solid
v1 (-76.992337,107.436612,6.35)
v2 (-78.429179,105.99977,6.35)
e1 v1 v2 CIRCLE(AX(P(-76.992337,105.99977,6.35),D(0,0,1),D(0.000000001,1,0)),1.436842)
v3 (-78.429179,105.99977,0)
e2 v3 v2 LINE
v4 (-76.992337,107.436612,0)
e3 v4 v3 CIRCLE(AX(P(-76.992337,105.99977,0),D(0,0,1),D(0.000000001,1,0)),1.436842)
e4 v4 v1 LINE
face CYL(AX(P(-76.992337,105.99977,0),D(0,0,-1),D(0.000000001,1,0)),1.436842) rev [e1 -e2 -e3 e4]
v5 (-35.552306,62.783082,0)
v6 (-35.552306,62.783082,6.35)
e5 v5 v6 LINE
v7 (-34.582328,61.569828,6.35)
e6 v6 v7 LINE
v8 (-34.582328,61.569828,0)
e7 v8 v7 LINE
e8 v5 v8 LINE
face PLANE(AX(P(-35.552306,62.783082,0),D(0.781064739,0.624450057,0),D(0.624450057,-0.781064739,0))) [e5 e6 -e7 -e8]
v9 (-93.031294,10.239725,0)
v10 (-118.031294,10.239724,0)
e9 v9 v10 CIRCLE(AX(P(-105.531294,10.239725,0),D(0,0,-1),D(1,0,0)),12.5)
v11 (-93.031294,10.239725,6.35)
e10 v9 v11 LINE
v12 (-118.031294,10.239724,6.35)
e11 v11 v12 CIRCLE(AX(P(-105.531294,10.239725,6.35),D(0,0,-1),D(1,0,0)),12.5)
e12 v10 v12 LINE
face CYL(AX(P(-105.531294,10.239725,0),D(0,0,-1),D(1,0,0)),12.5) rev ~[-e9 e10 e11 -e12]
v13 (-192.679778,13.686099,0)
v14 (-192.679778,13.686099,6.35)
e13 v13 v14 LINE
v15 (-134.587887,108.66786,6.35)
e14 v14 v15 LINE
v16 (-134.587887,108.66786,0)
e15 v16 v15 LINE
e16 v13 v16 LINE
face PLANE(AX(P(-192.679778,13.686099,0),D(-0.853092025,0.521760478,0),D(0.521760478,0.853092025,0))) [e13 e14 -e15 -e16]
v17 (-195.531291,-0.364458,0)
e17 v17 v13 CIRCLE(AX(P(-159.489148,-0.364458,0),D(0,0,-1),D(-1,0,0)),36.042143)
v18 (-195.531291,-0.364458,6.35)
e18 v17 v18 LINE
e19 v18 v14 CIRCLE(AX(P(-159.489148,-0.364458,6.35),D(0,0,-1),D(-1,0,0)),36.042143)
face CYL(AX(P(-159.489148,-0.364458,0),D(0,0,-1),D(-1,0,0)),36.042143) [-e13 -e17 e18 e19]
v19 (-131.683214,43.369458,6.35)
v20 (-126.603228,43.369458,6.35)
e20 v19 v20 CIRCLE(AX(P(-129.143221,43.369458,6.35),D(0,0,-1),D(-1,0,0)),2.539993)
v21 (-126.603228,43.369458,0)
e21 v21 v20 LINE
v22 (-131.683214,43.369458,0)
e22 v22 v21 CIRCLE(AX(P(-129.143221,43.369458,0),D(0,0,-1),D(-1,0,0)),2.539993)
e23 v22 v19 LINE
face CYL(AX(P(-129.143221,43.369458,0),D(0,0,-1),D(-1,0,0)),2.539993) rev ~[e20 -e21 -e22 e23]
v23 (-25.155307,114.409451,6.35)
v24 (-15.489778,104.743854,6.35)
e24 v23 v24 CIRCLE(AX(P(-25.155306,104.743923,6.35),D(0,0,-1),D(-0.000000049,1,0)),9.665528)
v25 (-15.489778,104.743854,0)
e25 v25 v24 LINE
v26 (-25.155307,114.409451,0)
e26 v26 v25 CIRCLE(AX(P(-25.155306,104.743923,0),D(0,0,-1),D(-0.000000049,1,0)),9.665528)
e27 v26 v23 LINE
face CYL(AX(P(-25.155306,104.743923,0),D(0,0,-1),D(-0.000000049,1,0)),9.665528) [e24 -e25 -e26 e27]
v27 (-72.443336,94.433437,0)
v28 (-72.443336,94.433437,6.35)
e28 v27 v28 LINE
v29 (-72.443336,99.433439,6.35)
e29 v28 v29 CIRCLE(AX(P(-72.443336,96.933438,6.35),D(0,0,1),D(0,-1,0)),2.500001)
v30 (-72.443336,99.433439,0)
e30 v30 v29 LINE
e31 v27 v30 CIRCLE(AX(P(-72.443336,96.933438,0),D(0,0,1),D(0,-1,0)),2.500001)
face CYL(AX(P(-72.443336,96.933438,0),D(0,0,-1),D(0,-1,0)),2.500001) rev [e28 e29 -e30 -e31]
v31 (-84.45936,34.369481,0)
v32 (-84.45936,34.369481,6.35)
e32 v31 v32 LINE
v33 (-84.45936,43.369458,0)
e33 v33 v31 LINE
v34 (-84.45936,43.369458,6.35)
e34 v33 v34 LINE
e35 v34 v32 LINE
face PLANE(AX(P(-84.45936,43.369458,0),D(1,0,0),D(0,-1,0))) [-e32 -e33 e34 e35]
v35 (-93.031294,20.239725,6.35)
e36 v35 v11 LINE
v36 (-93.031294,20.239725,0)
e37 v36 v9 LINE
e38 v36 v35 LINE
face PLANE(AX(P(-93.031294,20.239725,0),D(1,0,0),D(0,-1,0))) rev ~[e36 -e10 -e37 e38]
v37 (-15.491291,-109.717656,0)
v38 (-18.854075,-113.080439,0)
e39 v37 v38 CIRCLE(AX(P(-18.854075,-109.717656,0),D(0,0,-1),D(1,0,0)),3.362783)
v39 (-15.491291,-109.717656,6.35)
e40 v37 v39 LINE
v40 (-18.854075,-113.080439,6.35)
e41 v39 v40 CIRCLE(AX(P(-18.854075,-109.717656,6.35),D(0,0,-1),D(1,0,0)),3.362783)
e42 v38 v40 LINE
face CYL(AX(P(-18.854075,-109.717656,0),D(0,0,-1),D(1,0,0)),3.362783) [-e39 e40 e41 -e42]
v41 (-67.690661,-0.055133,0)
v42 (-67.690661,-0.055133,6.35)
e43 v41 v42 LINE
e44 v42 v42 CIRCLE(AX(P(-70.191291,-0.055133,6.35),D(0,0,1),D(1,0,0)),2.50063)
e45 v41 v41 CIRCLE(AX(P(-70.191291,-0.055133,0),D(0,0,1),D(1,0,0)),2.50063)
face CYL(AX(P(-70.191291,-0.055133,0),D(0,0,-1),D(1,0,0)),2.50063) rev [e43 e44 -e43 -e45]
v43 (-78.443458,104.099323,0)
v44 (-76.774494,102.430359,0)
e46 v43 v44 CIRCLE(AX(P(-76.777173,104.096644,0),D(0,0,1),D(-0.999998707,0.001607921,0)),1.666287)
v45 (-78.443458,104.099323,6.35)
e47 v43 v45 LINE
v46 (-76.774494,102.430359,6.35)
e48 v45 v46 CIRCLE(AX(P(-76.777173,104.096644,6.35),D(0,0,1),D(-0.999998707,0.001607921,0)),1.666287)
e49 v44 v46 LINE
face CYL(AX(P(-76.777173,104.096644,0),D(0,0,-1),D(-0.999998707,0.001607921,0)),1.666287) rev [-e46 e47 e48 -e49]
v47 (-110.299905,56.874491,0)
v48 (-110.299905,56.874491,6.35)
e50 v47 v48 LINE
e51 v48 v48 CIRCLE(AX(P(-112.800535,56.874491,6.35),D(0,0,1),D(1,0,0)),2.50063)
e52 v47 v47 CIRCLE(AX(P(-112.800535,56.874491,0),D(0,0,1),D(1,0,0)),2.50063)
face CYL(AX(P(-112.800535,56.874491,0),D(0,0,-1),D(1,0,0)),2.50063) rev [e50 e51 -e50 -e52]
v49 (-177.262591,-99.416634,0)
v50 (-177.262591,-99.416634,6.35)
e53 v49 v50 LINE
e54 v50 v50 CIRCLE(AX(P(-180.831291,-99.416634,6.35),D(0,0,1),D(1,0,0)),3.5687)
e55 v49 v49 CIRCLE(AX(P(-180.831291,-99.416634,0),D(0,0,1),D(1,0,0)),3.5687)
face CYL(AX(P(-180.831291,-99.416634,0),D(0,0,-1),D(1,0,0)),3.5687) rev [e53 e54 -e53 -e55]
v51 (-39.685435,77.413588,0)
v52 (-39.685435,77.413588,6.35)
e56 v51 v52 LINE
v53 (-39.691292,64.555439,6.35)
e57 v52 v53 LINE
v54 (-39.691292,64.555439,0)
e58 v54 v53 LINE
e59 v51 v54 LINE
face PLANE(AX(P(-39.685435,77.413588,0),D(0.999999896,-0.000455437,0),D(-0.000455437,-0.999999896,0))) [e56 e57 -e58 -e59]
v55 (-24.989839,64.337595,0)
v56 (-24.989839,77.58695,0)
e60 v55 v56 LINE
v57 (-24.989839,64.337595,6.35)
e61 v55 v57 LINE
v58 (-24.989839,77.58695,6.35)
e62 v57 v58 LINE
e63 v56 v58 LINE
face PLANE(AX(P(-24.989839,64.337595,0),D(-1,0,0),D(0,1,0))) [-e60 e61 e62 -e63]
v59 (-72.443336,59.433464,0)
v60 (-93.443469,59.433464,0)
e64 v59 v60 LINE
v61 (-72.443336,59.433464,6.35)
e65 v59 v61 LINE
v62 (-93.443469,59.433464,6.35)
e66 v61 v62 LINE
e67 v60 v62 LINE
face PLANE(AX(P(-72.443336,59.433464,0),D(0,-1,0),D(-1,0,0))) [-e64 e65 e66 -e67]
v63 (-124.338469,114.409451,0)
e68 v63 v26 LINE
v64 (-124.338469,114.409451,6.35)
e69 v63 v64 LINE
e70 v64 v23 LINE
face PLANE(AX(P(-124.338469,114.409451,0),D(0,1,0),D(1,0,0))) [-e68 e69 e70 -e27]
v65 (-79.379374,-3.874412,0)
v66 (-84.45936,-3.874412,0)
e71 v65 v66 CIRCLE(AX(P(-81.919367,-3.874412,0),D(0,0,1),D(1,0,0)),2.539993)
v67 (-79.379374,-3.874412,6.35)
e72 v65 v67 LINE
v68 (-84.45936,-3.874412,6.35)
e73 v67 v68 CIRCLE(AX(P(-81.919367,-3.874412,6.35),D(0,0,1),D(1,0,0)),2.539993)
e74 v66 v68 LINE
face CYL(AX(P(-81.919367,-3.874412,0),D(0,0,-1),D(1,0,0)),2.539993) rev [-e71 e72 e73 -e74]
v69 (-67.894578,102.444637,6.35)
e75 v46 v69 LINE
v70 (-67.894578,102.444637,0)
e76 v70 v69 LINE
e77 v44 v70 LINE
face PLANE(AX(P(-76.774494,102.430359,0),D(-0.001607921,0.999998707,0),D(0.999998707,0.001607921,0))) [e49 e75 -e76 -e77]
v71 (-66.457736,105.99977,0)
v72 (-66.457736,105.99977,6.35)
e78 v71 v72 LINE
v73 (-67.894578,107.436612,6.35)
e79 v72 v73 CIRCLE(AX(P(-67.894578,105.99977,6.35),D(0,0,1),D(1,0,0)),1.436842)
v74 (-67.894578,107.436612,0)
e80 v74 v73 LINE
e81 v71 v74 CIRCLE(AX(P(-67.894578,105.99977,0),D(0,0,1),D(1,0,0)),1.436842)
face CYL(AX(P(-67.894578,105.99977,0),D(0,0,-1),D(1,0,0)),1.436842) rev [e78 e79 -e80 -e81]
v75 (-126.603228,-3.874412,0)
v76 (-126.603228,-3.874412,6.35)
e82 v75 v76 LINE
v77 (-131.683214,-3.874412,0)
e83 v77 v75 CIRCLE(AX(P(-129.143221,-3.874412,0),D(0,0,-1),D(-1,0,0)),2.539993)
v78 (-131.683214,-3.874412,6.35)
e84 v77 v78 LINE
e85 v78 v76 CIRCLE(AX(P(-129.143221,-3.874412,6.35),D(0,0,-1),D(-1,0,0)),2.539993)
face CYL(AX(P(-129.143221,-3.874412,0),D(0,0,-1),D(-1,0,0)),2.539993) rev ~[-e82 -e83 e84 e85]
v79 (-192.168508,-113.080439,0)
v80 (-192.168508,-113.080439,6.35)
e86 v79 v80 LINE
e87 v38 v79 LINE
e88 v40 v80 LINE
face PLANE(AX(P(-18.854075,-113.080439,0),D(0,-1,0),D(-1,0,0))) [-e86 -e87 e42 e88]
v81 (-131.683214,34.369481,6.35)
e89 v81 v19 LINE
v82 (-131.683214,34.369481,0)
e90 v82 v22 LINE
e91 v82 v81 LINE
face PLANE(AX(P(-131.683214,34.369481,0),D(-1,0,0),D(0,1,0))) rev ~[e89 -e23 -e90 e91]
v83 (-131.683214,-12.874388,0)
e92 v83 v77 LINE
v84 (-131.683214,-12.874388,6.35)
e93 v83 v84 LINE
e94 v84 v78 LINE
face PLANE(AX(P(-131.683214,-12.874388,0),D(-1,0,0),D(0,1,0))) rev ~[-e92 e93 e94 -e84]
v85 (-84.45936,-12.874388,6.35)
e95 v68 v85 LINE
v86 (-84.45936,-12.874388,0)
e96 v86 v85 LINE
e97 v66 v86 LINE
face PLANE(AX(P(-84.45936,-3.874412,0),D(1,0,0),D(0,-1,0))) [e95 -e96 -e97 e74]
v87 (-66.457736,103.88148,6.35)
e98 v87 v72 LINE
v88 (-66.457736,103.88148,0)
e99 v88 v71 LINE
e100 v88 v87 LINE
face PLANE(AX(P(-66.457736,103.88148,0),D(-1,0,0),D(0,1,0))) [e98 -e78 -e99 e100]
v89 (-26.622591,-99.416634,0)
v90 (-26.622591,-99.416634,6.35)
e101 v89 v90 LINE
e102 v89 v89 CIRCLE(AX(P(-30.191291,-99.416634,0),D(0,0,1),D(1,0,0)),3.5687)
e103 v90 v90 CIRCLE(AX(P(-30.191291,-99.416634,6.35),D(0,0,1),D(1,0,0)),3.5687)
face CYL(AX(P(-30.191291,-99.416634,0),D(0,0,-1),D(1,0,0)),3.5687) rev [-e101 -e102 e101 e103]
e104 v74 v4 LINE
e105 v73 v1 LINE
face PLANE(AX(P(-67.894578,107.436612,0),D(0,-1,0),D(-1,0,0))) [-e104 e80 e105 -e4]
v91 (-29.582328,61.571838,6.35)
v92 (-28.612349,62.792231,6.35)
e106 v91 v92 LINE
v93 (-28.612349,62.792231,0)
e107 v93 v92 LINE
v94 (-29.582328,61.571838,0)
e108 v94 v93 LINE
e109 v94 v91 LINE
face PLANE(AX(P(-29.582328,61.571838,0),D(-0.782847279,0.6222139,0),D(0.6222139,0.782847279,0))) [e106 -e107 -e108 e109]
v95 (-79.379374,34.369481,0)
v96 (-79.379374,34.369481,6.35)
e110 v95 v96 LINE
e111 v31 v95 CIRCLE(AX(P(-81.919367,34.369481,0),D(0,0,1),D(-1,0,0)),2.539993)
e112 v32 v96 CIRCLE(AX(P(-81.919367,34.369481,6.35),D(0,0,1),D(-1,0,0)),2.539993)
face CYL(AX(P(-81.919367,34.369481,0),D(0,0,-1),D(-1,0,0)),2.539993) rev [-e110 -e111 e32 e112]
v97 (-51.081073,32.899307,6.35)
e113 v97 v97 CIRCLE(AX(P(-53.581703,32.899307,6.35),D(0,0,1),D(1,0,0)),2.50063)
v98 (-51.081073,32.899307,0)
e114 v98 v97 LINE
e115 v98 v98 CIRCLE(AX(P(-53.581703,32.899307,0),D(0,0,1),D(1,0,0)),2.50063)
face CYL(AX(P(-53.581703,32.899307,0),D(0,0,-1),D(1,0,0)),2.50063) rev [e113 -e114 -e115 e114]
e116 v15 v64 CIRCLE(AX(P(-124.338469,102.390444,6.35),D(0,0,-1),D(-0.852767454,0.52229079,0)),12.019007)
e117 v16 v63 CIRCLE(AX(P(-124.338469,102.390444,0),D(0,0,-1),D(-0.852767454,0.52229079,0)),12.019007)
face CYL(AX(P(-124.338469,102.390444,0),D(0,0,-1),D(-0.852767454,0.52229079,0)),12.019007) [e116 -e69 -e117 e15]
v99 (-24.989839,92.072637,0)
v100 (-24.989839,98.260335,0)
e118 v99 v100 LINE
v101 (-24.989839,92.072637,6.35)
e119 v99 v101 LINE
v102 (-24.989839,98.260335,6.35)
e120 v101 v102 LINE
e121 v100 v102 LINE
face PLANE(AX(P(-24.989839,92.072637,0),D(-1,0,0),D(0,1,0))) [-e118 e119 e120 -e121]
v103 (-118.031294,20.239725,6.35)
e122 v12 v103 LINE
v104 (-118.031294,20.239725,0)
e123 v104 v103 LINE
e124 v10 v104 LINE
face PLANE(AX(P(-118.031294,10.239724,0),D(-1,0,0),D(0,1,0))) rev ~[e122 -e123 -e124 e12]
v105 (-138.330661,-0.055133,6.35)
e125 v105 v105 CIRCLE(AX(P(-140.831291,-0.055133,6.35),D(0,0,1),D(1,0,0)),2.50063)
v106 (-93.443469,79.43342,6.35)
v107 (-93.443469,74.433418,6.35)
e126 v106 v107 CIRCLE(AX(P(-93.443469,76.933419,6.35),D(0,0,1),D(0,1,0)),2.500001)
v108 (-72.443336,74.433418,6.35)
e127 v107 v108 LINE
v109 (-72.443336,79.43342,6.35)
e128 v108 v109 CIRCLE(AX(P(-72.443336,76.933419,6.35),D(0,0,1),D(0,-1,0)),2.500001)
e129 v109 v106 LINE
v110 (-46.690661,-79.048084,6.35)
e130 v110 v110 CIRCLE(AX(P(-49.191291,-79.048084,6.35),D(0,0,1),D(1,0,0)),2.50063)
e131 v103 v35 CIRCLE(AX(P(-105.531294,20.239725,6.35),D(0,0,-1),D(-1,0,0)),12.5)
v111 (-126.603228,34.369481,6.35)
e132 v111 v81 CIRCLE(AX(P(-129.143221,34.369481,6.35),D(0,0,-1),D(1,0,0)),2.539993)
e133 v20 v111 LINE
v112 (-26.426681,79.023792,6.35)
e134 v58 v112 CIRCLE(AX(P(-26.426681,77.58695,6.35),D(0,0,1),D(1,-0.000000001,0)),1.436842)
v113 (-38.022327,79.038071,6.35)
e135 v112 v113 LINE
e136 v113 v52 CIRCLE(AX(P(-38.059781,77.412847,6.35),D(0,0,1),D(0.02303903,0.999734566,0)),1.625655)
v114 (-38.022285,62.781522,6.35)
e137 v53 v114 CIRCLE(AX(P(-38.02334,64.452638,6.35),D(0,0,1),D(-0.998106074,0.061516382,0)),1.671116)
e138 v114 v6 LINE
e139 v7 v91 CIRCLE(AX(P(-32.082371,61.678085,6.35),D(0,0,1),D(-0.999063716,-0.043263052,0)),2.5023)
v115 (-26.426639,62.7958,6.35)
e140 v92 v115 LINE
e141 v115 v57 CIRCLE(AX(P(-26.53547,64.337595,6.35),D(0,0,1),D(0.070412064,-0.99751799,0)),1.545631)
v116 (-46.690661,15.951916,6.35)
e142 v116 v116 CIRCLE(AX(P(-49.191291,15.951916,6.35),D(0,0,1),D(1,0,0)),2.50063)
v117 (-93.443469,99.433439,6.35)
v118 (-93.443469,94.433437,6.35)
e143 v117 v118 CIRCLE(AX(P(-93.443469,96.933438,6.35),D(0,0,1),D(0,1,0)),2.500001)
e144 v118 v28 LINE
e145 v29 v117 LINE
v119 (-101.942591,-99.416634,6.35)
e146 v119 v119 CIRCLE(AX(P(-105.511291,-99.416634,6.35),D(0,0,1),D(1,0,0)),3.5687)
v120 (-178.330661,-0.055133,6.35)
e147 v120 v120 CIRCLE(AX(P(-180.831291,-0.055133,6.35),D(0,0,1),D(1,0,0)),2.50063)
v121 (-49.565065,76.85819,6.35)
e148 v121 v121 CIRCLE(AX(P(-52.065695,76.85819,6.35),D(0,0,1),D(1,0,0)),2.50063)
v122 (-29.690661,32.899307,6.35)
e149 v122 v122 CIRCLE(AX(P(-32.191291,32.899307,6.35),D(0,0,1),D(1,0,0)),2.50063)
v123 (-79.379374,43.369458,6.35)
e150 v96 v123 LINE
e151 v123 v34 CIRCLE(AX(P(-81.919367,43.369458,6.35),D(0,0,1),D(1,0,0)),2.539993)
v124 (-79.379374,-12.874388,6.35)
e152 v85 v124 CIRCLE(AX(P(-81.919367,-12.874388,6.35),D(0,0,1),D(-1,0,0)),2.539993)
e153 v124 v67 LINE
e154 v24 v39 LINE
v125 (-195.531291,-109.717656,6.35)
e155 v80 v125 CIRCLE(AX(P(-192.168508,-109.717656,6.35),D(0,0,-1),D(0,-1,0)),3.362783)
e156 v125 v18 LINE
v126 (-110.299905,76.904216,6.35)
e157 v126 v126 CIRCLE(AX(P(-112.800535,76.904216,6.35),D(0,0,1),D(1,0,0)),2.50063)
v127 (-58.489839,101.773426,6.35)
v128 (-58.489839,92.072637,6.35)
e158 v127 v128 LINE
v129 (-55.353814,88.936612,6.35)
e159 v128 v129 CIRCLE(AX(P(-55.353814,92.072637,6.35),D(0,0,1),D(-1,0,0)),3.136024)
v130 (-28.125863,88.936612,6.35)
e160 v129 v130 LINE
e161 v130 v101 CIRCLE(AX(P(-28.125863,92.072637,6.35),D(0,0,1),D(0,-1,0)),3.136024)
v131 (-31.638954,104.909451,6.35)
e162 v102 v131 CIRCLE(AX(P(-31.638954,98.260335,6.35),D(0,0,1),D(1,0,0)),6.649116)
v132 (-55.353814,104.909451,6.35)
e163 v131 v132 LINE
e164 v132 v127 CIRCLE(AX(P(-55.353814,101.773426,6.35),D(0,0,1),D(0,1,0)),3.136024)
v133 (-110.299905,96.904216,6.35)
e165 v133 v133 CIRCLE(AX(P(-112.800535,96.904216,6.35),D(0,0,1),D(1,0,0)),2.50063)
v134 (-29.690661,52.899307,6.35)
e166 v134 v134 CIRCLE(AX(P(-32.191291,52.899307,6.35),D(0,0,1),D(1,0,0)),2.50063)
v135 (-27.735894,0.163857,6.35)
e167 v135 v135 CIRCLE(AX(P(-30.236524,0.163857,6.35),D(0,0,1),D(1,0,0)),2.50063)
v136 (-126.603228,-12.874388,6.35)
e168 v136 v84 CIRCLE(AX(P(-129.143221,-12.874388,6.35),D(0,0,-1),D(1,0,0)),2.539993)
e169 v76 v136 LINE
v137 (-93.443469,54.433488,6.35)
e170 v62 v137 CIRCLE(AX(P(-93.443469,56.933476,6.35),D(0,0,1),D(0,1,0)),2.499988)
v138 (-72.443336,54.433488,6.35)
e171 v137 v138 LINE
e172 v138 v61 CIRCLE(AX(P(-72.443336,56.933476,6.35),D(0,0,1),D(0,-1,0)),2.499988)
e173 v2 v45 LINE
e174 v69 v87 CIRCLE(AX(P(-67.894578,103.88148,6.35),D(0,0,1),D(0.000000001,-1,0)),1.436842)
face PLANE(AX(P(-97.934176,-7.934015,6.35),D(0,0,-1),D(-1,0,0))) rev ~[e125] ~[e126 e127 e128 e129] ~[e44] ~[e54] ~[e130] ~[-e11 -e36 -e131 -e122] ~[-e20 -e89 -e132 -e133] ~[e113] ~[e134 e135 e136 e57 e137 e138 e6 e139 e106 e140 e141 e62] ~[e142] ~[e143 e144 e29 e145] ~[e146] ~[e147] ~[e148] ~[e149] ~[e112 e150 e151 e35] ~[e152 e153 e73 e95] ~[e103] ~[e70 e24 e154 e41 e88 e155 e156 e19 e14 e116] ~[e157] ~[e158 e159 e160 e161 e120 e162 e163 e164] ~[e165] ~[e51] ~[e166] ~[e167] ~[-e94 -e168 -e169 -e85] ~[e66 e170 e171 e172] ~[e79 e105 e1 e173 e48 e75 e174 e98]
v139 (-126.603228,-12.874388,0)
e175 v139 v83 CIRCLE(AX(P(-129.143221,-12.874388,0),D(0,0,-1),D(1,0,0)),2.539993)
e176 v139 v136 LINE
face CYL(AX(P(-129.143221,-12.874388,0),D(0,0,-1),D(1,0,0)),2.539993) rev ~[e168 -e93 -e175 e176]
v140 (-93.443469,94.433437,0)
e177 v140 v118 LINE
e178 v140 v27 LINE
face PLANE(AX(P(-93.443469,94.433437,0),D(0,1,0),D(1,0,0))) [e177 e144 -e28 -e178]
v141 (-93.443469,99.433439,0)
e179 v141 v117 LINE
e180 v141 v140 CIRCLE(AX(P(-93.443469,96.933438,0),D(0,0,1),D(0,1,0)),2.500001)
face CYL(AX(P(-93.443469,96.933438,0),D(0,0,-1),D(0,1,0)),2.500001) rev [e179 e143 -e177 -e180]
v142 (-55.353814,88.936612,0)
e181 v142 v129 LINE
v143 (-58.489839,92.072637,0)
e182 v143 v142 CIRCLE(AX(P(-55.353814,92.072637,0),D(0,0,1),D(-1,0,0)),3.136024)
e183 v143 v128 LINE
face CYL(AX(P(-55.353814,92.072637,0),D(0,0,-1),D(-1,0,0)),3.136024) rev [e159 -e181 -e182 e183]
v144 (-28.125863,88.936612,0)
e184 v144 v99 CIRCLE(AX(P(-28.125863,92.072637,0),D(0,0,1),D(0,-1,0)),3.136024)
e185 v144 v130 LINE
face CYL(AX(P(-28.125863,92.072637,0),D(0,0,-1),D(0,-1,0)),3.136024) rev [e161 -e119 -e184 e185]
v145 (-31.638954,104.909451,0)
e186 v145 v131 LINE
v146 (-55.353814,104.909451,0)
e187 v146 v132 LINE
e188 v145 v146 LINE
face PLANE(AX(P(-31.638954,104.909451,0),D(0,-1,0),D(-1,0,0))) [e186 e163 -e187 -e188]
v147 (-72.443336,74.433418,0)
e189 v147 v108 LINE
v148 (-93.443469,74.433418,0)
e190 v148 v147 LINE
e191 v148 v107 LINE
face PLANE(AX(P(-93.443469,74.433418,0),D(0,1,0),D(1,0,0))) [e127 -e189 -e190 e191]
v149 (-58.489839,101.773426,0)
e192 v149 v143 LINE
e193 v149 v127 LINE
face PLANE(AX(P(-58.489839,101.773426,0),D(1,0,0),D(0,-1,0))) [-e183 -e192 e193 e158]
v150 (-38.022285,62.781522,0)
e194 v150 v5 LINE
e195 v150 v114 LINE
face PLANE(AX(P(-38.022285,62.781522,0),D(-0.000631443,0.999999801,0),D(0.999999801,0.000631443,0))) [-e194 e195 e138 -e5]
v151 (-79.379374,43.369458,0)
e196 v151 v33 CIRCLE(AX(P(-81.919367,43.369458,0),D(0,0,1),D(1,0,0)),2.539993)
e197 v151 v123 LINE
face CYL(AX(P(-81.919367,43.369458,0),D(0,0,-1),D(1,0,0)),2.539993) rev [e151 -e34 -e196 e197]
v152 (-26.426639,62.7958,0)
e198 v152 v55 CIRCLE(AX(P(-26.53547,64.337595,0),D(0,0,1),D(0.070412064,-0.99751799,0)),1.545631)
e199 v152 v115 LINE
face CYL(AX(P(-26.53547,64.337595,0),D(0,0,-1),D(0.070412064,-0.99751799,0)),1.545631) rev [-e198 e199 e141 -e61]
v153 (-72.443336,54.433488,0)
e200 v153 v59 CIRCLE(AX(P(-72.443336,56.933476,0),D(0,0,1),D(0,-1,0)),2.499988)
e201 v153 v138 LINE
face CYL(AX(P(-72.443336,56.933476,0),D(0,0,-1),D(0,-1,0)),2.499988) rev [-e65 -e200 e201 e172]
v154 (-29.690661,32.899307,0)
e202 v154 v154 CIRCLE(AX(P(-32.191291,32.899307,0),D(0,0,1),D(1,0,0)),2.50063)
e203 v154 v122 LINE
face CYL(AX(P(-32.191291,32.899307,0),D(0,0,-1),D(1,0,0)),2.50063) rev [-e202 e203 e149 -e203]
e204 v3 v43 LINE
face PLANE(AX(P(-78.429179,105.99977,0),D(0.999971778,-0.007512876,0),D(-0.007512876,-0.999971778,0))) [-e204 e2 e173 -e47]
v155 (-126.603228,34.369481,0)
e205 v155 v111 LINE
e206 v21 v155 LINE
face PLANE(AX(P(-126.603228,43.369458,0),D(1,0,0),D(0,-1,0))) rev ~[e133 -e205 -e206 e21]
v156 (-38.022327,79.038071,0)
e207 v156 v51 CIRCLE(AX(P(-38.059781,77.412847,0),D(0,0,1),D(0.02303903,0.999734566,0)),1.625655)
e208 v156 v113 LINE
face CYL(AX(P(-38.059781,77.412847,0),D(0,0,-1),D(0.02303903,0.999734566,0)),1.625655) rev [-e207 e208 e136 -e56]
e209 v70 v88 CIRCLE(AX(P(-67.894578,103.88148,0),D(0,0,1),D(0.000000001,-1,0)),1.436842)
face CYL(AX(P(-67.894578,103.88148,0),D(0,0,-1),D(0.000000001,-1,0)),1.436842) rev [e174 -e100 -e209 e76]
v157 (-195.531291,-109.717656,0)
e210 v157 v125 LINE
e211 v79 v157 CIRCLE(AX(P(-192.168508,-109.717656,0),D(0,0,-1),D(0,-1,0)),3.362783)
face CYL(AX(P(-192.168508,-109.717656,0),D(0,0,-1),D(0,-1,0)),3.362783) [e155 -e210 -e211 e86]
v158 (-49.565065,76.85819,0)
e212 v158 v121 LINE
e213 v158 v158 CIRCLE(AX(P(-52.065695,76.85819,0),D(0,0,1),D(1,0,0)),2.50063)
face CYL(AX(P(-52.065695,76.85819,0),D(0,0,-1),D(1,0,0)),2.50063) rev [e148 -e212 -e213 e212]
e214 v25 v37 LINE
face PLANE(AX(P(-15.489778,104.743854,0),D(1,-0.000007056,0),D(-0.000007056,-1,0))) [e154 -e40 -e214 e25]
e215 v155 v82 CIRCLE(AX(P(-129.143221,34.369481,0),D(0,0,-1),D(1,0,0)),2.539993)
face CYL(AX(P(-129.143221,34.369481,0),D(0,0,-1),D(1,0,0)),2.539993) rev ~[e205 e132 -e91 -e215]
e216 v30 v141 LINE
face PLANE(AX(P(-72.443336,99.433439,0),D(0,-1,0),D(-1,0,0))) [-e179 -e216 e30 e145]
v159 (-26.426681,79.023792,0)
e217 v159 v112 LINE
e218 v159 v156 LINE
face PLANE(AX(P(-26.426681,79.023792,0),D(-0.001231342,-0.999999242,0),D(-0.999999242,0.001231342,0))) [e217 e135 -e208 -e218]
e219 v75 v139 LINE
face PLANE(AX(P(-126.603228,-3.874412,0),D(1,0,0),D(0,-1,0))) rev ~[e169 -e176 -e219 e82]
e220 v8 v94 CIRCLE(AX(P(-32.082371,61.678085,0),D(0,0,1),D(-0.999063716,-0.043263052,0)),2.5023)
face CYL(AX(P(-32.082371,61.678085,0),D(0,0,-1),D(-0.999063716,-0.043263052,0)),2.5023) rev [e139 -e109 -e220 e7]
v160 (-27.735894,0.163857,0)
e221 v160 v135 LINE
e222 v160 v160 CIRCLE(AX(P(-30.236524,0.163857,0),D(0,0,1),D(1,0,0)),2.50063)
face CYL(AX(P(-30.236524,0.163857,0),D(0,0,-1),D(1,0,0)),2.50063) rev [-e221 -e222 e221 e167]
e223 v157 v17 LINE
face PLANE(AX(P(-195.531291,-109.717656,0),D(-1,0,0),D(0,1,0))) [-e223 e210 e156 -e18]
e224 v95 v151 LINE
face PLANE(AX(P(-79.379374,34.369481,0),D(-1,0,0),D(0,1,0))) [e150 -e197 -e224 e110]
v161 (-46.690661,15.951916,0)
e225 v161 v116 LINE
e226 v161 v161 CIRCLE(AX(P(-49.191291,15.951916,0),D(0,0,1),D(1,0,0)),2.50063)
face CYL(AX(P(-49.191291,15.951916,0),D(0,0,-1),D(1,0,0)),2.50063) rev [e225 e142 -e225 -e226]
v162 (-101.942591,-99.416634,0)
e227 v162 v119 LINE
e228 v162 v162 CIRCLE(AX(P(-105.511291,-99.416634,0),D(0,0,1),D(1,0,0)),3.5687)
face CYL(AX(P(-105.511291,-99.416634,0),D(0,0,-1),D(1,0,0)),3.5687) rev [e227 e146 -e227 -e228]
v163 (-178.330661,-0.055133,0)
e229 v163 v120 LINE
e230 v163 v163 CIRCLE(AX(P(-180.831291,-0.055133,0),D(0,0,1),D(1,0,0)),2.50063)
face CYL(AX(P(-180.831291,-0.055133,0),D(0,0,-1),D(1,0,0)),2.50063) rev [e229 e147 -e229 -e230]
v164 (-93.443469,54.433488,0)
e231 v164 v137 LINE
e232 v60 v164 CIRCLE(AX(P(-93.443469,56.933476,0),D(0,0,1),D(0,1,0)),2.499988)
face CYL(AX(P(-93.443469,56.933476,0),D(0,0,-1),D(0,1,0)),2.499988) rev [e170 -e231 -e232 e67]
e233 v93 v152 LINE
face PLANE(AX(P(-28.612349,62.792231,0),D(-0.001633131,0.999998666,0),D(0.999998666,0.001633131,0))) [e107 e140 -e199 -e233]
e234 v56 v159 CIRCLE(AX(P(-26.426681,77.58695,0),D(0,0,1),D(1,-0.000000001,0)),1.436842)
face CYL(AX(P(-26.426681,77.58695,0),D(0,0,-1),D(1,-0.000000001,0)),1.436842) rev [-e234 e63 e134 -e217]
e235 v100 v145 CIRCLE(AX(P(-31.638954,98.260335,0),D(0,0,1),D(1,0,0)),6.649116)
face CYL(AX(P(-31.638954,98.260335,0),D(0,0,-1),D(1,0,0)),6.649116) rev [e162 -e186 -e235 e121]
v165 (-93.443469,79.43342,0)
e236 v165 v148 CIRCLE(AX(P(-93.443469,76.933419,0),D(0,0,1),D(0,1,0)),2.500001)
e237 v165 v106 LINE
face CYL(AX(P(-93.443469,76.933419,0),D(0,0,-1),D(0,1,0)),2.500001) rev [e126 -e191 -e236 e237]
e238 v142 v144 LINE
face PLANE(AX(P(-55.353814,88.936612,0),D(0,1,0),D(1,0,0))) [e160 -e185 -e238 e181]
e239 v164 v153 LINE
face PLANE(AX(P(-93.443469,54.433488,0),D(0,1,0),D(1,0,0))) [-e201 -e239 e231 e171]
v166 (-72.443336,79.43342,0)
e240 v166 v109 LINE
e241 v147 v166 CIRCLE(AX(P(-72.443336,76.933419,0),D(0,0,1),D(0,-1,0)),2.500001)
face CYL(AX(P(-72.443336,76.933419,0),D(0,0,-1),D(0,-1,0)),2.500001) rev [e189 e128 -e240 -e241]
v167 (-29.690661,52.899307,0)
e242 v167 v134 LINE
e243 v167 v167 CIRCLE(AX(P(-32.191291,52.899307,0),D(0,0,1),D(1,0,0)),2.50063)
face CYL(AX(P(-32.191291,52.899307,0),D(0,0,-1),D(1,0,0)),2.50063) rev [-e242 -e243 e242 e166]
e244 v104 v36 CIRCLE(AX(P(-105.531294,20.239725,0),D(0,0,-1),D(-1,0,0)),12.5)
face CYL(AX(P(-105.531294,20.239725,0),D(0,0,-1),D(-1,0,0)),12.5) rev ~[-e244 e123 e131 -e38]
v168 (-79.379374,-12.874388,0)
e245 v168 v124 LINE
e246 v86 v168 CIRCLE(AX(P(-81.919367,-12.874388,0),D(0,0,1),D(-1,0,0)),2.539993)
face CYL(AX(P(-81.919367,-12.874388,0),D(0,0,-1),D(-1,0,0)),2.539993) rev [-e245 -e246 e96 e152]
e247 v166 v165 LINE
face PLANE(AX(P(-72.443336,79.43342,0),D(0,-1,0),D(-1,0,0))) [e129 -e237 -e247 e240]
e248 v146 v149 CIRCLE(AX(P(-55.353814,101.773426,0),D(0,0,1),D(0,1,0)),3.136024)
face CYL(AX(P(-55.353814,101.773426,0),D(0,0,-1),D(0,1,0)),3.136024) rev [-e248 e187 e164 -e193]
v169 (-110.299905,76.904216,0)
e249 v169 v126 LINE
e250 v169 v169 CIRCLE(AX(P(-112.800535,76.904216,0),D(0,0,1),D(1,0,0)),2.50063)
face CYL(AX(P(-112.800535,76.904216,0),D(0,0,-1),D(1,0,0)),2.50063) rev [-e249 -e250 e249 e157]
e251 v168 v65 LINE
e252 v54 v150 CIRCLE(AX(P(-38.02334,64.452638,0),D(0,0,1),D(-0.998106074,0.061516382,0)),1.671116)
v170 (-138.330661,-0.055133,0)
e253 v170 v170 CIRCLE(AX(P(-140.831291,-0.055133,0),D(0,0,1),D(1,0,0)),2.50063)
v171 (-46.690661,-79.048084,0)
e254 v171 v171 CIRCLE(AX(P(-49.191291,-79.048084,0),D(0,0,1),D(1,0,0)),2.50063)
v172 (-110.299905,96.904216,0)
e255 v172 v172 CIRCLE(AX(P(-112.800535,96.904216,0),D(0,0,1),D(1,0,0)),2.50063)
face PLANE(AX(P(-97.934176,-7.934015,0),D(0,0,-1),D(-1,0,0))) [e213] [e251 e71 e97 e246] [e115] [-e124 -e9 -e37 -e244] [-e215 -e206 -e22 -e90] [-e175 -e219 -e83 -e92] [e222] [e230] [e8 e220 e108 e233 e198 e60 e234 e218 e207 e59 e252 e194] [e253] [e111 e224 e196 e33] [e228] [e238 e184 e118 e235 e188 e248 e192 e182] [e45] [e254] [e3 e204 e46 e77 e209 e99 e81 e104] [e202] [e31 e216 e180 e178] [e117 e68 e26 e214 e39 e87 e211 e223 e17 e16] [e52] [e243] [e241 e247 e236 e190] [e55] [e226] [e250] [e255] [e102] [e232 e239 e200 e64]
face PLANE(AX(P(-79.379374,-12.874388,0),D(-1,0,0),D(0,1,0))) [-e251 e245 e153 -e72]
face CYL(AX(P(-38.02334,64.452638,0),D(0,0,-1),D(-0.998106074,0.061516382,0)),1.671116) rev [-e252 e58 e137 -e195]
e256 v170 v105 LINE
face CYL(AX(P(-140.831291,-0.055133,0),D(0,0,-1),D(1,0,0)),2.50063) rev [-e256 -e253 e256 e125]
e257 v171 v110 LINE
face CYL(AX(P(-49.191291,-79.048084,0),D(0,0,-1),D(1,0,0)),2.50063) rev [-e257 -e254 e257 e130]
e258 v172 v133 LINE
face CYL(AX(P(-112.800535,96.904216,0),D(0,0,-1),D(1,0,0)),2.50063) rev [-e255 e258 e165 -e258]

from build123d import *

# Parameters (mm, degrees)
MODEL_R             = 3.5687
MODEL_R_2           = 2.50063
BOSS_EXTRUDE1_DEPTH = 6.35


with BuildPart() as part:
    # Model → Boss-Extrude1 (new body)
    with BuildSketch(Plane.XY):
        with BuildLine():
            Line((-195.531291458, -109.717656077), (-195.531291458, -0.364458494))
            ThreePointArc((-195.531291458, -0.364458494), (-194.811220192, 6.804036519), (-192.679778414, 13.686098661))
            Line((-192.679778414, 13.686098661), (-134.587886802, 108.667860444))
            ThreePointArc((-134.587886802, 108.667860444), (-130.212488604, 112.876263711), (-124.338469082, 114.409450622))
            Line((-124.338469082, 114.409450622), (-25.155306777, 114.409450622))
            ThreePointArc((-25.155306777, 114.409450622), (-18.320721917, 111.578459049), (-15.489778233, 104.743854352))
            Line((-15.489778233, 104.743854352), (-15.491291459, -109.717656077))
            ThreePointArc((-15.491291459, -109.717656077), (-16.476227854, -112.095502881), (-18.854074658, -113.080439277))
            Line((-18.854074658, -113.080439277), (-192.168508258, -113.080439277))
            ThreePointArc((-192.168508258, -113.080439277), (-194.546355062, -112.095502881), (-195.531291458, -109.717656077))
        make_face()
        with Locations((-105.511291458, -99.416633634)):
            Circle(MODEL_R, mode=Mode.SUBTRACT)
        with Locations((-30.191291459, -99.416633634)):
            Circle(MODEL_R, mode=Mode.SUBTRACT)
        with Locations((-180.831291458, -99.416633634)):
            Circle(MODEL_R, mode=Mode.SUBTRACT)
        with Locations((-112.800535337, 96.904216384)):
            Circle(MODEL_R_2, mode=Mode.SUBTRACT)
        with Locations((-112.800535337, 76.904216384)):
            Circle(MODEL_R_2, mode=Mode.SUBTRACT)
        with Locations((-112.800535337, 56.874490518)):
            Circle(MODEL_R_2, mode=Mode.SUBTRACT)
        with Locations((-52.065695289, 76.858190171)):
            Circle(MODEL_R_2, mode=Mode.SUBTRACT)
        with Locations((-53.581703018, 32.899307373)):
            Circle(MODEL_R_2, mode=Mode.SUBTRACT)
        with Locations((-49.191291458, 15.951915647)):
            Circle(MODEL_R_2, mode=Mode.SUBTRACT)
        with Locations((-32.191291412, 52.89930739)):
            Circle(MODEL_R_2, mode=Mode.SUBTRACT)
        with Locations((-32.191291073, 32.899307373)):
            Circle(MODEL_R_2, mode=Mode.SUBTRACT)
        with Locations((-30.23652443, 0.163856763)):
            Circle(MODEL_R_2, mode=Mode.SUBTRACT)
        with Locations((-70.191291459, -0.055133214)):
            Circle(MODEL_R_2, mode=Mode.SUBTRACT)
        with Locations((-140.831291458, -0.055133214)):
            Circle(MODEL_R_2, mode=Mode.SUBTRACT)
        with Locations((-180.831291459, -0.055133212)):
            Circle(MODEL_R_2, mode=Mode.SUBTRACT)
        with Locations((-49.191291458, -79.0480842)):
            Circle(MODEL_R_2, mode=Mode.SUBTRACT)
        with BuildLine():
            Line((-93.44346941, 94.43343728), (-72.443335776, 94.43343728))
            ThreePointArc((-72.443335776, 94.43343728), (-69.943334966, 96.93343809), (-72.443335776, 99.4334389))
            Line((-72.443335776, 99.4334389), (-93.44346941, 99.4334389))
            ThreePointArc((-93.44346941, 99.4334389), (-95.943470221, 96.93343809), (-93.44346941, 94.43343728))
        make_face(mode=Mode.SUBTRACT)
        with BuildLine():
            Line((-79.379374317, -12.874388322), (-79.379374317, -3.874412101))
            ThreePointArc((-79.379374317, -3.874412101), (-81.919367317, -1.334419101), (-84.459360317, -3.874412101))
            Line((-84.459360317, -3.874412101), (-84.459360317, -12.874388322))
            ThreePointArc((-84.459360317, -12.874388322), (-81.919367317, -15.414381322), (-79.379374317, -12.874388322))
        make_face(mode=Mode.SUBTRACT)
        with BuildLine():
            Line((-79.379374317, 34.36948148), (-79.379374317, 43.369457701))
            ThreePointArc((-79.379374317, 43.369457701), (-81.919367317, 45.909450701), (-84.459360317, 43.369457701))
            Line((-84.459360317, 43.369457701), (-84.459360317, 34.36948148))
            ThreePointArc((-84.459360317, 34.36948148), (-81.919367317, 31.82948848), (-79.379374317, 34.36948148))
        make_face(mode=Mode.SUBTRACT)
        with BuildLine():
            Line((-76.774493611, 102.430359236), (-67.894578253, 102.444637455))
            ThreePointArc((-67.894578253, 102.444637455), (-66.878577292, 102.865478833), (-66.457735914, 103.881479794))
            Line((-66.457735914, 103.881479794), (-66.457735914, 105.999769505))
            ThreePointArc((-66.457735914, 105.999769505), (-66.878577292, 107.015770466), (-67.894578253, 107.436611843))
            Line((-67.894578253, 107.436611843), (-76.992337138, 107.436611843))
            ThreePointArc((-76.992337138, 107.436611843), (-78.008338099, 107.015770466), (-78.429179476, 105.999769505))
            Line((-78.429179476, 105.999769505), (-78.443457695, 104.09932332))
            ThreePointArc((-78.443457695, 104.09932332), (-77.955415692, 102.918401239), (-76.774493611, 102.430359236))
        make_face(mode=Mode.SUBTRACT)
        with BuildLine():
            Line((-38.022285247, 62.781522119), (-35.552306408, 62.78308177))
            Line((-35.552306408, 62.78308177), (-34.582327568, 61.569828187))
            ThreePointArc((-34.582327568, 61.569828187), (-32.081364805, 59.175785763), (-29.582327568, 61.571838091))
            Line((-29.582327568, 61.571838091), (-28.612348728, 62.792230783))
            Line((-28.612348728, 62.792230783), (-26.426638777, 62.795800338))
            ThreePointArc((-26.426638777, 62.795800338), (-25.404720412, 63.283848845), (-24.989838628, 64.337595301))
            Line((-24.989838628, 64.337595301), (-24.989838628, 77.586949943))
            ThreePointArc((-24.989838628, 77.586949943), (-25.410680005, 78.602950904), (-26.426680966, 79.023792281))
            Line((-26.426680966, 79.023792281), (-38.022327436, 79.0380705))
            ThreePointArc((-38.022327436, 79.0380705), (-39.195708618, 78.575783886), (-39.685435446, 77.413587713))
            Line((-39.685435446, 77.413587713), (-39.69129152, 64.555438828))
            ThreePointArc((-39.69129152, 64.555438828), (-39.240439702, 63.307518511), (-38.022285247, 62.781522119))
        make_face(mode=Mode.SUBTRACT)
        with BuildLine():
            Line((-55.353814173, 88.936612327), (-28.125863081, 88.936612327))
            ThreePointArc((-28.125863081, 88.936612327), (-25.908358924, 89.855132624), (-24.989838628, 92.072636781))
            Line((-24.989838628, 92.072636781), (-24.989838628, 98.260334755))
            ThreePointArc((-24.989838628, 98.260334755), (-26.937319576, 102.961969673), (-31.638954494, 104.909450622))
            Line((-31.638954494, 104.909450622), (-55.353814173, 104.909450622))
            ThreePointArc((-55.353814173, 104.909450622), (-57.571318331, 103.990930325), (-58.489838627, 101.773426168))
            Line((-58.489838627, 101.773426168), (-58.489838627, 92.072636781))
            ThreePointArc((-58.489838627, 92.072636781), (-57.571318331, 89.855132624), (-55.353814173, 88.936612327))
        make_face(mode=Mode.SUBTRACT)
        with BuildLine():
            Line((-93.44346941, 74.433418373), (-72.443335776, 74.433418373))
            ThreePointArc((-72.443335776, 74.433418373), (-69.943334966, 76.933419183), (-72.443335776, 79.433419993))
            Line((-72.443335776, 79.433419993), (-93.44346941, 79.433419993))
            ThreePointArc((-93.44346941, 79.433419993), (-95.943470221, 76.933419183), (-93.44346941, 74.433418373))
        make_face(mode=Mode.SUBTRACT)
        with BuildLine():
            Line((-93.44346941, 54.43348809), (-72.443335776, 54.43348809))
            ThreePointArc((-72.443335776, 54.43348809), (-69.943347665, 56.9334762), (-72.443335776, 59.433464311))
            Line((-72.443335776, 59.433464311), (-93.44346941, 59.433464311))
            ThreePointArc((-93.44346941, 59.433464311), (-95.943457521, 56.9334762), (-93.44346941, 54.43348809))
        make_face(mode=Mode.SUBTRACT)
        with BuildLine():
            Line((-118.031293904, 10.239724211), (-118.031293904, 20.239724509))
            ThreePointArc((-118.031293904, 20.239724509), (-105.531294274, 32.73972451), (-93.031293902, 20.239725251))
            Line((-93.031293902, 20.239725251), (-93.031293902, 10.239724953))
            ThreePointArc((-93.031293902, 10.239724953), (-105.531293532, -2.260275048), (-118.031293904, 10.239724211))
        make_face(mode=Mode.SUBTRACT)
        with BuildLine():
            Line((-126.603228231, 43.369457701), (-126.603228231, 34.36948148))
            ThreePointArc((-126.603228231, 34.36948148), (-129.143221232, 31.82948848), (-131.683214232, 34.36948148))
            Line((-131.683214232, 34.36948148), (-131.683214232, 43.369457701))
            ThreePointArc((-131.683214232, 43.369457701), (-129.143221232, 45.909450701), (-126.603228231, 43.369457701))
        make_face(mode=Mode.SUBTRACT)
        with BuildLine():
            Line((-131.683214232, -12.874388322), (-131.683214232, -3.874412101))
            ThreePointArc((-131.683214232, -3.874412101), (-129.143221232, -1.334419101), (-126.603228231, -3.874412101))
            Line((-126.603228231, -3.874412101), (-126.603228231, -12.874388322))
            ThreePointArc((-126.603228231, -12.874388322), (-129.143221232, -15.414381322), (-131.683214232, -12.874388322))
        make_face(mode=Mode.SUBTRACT)
    extrude(amount=BOSS_EXTRUDE1_DEPTH)


solid = part.part
